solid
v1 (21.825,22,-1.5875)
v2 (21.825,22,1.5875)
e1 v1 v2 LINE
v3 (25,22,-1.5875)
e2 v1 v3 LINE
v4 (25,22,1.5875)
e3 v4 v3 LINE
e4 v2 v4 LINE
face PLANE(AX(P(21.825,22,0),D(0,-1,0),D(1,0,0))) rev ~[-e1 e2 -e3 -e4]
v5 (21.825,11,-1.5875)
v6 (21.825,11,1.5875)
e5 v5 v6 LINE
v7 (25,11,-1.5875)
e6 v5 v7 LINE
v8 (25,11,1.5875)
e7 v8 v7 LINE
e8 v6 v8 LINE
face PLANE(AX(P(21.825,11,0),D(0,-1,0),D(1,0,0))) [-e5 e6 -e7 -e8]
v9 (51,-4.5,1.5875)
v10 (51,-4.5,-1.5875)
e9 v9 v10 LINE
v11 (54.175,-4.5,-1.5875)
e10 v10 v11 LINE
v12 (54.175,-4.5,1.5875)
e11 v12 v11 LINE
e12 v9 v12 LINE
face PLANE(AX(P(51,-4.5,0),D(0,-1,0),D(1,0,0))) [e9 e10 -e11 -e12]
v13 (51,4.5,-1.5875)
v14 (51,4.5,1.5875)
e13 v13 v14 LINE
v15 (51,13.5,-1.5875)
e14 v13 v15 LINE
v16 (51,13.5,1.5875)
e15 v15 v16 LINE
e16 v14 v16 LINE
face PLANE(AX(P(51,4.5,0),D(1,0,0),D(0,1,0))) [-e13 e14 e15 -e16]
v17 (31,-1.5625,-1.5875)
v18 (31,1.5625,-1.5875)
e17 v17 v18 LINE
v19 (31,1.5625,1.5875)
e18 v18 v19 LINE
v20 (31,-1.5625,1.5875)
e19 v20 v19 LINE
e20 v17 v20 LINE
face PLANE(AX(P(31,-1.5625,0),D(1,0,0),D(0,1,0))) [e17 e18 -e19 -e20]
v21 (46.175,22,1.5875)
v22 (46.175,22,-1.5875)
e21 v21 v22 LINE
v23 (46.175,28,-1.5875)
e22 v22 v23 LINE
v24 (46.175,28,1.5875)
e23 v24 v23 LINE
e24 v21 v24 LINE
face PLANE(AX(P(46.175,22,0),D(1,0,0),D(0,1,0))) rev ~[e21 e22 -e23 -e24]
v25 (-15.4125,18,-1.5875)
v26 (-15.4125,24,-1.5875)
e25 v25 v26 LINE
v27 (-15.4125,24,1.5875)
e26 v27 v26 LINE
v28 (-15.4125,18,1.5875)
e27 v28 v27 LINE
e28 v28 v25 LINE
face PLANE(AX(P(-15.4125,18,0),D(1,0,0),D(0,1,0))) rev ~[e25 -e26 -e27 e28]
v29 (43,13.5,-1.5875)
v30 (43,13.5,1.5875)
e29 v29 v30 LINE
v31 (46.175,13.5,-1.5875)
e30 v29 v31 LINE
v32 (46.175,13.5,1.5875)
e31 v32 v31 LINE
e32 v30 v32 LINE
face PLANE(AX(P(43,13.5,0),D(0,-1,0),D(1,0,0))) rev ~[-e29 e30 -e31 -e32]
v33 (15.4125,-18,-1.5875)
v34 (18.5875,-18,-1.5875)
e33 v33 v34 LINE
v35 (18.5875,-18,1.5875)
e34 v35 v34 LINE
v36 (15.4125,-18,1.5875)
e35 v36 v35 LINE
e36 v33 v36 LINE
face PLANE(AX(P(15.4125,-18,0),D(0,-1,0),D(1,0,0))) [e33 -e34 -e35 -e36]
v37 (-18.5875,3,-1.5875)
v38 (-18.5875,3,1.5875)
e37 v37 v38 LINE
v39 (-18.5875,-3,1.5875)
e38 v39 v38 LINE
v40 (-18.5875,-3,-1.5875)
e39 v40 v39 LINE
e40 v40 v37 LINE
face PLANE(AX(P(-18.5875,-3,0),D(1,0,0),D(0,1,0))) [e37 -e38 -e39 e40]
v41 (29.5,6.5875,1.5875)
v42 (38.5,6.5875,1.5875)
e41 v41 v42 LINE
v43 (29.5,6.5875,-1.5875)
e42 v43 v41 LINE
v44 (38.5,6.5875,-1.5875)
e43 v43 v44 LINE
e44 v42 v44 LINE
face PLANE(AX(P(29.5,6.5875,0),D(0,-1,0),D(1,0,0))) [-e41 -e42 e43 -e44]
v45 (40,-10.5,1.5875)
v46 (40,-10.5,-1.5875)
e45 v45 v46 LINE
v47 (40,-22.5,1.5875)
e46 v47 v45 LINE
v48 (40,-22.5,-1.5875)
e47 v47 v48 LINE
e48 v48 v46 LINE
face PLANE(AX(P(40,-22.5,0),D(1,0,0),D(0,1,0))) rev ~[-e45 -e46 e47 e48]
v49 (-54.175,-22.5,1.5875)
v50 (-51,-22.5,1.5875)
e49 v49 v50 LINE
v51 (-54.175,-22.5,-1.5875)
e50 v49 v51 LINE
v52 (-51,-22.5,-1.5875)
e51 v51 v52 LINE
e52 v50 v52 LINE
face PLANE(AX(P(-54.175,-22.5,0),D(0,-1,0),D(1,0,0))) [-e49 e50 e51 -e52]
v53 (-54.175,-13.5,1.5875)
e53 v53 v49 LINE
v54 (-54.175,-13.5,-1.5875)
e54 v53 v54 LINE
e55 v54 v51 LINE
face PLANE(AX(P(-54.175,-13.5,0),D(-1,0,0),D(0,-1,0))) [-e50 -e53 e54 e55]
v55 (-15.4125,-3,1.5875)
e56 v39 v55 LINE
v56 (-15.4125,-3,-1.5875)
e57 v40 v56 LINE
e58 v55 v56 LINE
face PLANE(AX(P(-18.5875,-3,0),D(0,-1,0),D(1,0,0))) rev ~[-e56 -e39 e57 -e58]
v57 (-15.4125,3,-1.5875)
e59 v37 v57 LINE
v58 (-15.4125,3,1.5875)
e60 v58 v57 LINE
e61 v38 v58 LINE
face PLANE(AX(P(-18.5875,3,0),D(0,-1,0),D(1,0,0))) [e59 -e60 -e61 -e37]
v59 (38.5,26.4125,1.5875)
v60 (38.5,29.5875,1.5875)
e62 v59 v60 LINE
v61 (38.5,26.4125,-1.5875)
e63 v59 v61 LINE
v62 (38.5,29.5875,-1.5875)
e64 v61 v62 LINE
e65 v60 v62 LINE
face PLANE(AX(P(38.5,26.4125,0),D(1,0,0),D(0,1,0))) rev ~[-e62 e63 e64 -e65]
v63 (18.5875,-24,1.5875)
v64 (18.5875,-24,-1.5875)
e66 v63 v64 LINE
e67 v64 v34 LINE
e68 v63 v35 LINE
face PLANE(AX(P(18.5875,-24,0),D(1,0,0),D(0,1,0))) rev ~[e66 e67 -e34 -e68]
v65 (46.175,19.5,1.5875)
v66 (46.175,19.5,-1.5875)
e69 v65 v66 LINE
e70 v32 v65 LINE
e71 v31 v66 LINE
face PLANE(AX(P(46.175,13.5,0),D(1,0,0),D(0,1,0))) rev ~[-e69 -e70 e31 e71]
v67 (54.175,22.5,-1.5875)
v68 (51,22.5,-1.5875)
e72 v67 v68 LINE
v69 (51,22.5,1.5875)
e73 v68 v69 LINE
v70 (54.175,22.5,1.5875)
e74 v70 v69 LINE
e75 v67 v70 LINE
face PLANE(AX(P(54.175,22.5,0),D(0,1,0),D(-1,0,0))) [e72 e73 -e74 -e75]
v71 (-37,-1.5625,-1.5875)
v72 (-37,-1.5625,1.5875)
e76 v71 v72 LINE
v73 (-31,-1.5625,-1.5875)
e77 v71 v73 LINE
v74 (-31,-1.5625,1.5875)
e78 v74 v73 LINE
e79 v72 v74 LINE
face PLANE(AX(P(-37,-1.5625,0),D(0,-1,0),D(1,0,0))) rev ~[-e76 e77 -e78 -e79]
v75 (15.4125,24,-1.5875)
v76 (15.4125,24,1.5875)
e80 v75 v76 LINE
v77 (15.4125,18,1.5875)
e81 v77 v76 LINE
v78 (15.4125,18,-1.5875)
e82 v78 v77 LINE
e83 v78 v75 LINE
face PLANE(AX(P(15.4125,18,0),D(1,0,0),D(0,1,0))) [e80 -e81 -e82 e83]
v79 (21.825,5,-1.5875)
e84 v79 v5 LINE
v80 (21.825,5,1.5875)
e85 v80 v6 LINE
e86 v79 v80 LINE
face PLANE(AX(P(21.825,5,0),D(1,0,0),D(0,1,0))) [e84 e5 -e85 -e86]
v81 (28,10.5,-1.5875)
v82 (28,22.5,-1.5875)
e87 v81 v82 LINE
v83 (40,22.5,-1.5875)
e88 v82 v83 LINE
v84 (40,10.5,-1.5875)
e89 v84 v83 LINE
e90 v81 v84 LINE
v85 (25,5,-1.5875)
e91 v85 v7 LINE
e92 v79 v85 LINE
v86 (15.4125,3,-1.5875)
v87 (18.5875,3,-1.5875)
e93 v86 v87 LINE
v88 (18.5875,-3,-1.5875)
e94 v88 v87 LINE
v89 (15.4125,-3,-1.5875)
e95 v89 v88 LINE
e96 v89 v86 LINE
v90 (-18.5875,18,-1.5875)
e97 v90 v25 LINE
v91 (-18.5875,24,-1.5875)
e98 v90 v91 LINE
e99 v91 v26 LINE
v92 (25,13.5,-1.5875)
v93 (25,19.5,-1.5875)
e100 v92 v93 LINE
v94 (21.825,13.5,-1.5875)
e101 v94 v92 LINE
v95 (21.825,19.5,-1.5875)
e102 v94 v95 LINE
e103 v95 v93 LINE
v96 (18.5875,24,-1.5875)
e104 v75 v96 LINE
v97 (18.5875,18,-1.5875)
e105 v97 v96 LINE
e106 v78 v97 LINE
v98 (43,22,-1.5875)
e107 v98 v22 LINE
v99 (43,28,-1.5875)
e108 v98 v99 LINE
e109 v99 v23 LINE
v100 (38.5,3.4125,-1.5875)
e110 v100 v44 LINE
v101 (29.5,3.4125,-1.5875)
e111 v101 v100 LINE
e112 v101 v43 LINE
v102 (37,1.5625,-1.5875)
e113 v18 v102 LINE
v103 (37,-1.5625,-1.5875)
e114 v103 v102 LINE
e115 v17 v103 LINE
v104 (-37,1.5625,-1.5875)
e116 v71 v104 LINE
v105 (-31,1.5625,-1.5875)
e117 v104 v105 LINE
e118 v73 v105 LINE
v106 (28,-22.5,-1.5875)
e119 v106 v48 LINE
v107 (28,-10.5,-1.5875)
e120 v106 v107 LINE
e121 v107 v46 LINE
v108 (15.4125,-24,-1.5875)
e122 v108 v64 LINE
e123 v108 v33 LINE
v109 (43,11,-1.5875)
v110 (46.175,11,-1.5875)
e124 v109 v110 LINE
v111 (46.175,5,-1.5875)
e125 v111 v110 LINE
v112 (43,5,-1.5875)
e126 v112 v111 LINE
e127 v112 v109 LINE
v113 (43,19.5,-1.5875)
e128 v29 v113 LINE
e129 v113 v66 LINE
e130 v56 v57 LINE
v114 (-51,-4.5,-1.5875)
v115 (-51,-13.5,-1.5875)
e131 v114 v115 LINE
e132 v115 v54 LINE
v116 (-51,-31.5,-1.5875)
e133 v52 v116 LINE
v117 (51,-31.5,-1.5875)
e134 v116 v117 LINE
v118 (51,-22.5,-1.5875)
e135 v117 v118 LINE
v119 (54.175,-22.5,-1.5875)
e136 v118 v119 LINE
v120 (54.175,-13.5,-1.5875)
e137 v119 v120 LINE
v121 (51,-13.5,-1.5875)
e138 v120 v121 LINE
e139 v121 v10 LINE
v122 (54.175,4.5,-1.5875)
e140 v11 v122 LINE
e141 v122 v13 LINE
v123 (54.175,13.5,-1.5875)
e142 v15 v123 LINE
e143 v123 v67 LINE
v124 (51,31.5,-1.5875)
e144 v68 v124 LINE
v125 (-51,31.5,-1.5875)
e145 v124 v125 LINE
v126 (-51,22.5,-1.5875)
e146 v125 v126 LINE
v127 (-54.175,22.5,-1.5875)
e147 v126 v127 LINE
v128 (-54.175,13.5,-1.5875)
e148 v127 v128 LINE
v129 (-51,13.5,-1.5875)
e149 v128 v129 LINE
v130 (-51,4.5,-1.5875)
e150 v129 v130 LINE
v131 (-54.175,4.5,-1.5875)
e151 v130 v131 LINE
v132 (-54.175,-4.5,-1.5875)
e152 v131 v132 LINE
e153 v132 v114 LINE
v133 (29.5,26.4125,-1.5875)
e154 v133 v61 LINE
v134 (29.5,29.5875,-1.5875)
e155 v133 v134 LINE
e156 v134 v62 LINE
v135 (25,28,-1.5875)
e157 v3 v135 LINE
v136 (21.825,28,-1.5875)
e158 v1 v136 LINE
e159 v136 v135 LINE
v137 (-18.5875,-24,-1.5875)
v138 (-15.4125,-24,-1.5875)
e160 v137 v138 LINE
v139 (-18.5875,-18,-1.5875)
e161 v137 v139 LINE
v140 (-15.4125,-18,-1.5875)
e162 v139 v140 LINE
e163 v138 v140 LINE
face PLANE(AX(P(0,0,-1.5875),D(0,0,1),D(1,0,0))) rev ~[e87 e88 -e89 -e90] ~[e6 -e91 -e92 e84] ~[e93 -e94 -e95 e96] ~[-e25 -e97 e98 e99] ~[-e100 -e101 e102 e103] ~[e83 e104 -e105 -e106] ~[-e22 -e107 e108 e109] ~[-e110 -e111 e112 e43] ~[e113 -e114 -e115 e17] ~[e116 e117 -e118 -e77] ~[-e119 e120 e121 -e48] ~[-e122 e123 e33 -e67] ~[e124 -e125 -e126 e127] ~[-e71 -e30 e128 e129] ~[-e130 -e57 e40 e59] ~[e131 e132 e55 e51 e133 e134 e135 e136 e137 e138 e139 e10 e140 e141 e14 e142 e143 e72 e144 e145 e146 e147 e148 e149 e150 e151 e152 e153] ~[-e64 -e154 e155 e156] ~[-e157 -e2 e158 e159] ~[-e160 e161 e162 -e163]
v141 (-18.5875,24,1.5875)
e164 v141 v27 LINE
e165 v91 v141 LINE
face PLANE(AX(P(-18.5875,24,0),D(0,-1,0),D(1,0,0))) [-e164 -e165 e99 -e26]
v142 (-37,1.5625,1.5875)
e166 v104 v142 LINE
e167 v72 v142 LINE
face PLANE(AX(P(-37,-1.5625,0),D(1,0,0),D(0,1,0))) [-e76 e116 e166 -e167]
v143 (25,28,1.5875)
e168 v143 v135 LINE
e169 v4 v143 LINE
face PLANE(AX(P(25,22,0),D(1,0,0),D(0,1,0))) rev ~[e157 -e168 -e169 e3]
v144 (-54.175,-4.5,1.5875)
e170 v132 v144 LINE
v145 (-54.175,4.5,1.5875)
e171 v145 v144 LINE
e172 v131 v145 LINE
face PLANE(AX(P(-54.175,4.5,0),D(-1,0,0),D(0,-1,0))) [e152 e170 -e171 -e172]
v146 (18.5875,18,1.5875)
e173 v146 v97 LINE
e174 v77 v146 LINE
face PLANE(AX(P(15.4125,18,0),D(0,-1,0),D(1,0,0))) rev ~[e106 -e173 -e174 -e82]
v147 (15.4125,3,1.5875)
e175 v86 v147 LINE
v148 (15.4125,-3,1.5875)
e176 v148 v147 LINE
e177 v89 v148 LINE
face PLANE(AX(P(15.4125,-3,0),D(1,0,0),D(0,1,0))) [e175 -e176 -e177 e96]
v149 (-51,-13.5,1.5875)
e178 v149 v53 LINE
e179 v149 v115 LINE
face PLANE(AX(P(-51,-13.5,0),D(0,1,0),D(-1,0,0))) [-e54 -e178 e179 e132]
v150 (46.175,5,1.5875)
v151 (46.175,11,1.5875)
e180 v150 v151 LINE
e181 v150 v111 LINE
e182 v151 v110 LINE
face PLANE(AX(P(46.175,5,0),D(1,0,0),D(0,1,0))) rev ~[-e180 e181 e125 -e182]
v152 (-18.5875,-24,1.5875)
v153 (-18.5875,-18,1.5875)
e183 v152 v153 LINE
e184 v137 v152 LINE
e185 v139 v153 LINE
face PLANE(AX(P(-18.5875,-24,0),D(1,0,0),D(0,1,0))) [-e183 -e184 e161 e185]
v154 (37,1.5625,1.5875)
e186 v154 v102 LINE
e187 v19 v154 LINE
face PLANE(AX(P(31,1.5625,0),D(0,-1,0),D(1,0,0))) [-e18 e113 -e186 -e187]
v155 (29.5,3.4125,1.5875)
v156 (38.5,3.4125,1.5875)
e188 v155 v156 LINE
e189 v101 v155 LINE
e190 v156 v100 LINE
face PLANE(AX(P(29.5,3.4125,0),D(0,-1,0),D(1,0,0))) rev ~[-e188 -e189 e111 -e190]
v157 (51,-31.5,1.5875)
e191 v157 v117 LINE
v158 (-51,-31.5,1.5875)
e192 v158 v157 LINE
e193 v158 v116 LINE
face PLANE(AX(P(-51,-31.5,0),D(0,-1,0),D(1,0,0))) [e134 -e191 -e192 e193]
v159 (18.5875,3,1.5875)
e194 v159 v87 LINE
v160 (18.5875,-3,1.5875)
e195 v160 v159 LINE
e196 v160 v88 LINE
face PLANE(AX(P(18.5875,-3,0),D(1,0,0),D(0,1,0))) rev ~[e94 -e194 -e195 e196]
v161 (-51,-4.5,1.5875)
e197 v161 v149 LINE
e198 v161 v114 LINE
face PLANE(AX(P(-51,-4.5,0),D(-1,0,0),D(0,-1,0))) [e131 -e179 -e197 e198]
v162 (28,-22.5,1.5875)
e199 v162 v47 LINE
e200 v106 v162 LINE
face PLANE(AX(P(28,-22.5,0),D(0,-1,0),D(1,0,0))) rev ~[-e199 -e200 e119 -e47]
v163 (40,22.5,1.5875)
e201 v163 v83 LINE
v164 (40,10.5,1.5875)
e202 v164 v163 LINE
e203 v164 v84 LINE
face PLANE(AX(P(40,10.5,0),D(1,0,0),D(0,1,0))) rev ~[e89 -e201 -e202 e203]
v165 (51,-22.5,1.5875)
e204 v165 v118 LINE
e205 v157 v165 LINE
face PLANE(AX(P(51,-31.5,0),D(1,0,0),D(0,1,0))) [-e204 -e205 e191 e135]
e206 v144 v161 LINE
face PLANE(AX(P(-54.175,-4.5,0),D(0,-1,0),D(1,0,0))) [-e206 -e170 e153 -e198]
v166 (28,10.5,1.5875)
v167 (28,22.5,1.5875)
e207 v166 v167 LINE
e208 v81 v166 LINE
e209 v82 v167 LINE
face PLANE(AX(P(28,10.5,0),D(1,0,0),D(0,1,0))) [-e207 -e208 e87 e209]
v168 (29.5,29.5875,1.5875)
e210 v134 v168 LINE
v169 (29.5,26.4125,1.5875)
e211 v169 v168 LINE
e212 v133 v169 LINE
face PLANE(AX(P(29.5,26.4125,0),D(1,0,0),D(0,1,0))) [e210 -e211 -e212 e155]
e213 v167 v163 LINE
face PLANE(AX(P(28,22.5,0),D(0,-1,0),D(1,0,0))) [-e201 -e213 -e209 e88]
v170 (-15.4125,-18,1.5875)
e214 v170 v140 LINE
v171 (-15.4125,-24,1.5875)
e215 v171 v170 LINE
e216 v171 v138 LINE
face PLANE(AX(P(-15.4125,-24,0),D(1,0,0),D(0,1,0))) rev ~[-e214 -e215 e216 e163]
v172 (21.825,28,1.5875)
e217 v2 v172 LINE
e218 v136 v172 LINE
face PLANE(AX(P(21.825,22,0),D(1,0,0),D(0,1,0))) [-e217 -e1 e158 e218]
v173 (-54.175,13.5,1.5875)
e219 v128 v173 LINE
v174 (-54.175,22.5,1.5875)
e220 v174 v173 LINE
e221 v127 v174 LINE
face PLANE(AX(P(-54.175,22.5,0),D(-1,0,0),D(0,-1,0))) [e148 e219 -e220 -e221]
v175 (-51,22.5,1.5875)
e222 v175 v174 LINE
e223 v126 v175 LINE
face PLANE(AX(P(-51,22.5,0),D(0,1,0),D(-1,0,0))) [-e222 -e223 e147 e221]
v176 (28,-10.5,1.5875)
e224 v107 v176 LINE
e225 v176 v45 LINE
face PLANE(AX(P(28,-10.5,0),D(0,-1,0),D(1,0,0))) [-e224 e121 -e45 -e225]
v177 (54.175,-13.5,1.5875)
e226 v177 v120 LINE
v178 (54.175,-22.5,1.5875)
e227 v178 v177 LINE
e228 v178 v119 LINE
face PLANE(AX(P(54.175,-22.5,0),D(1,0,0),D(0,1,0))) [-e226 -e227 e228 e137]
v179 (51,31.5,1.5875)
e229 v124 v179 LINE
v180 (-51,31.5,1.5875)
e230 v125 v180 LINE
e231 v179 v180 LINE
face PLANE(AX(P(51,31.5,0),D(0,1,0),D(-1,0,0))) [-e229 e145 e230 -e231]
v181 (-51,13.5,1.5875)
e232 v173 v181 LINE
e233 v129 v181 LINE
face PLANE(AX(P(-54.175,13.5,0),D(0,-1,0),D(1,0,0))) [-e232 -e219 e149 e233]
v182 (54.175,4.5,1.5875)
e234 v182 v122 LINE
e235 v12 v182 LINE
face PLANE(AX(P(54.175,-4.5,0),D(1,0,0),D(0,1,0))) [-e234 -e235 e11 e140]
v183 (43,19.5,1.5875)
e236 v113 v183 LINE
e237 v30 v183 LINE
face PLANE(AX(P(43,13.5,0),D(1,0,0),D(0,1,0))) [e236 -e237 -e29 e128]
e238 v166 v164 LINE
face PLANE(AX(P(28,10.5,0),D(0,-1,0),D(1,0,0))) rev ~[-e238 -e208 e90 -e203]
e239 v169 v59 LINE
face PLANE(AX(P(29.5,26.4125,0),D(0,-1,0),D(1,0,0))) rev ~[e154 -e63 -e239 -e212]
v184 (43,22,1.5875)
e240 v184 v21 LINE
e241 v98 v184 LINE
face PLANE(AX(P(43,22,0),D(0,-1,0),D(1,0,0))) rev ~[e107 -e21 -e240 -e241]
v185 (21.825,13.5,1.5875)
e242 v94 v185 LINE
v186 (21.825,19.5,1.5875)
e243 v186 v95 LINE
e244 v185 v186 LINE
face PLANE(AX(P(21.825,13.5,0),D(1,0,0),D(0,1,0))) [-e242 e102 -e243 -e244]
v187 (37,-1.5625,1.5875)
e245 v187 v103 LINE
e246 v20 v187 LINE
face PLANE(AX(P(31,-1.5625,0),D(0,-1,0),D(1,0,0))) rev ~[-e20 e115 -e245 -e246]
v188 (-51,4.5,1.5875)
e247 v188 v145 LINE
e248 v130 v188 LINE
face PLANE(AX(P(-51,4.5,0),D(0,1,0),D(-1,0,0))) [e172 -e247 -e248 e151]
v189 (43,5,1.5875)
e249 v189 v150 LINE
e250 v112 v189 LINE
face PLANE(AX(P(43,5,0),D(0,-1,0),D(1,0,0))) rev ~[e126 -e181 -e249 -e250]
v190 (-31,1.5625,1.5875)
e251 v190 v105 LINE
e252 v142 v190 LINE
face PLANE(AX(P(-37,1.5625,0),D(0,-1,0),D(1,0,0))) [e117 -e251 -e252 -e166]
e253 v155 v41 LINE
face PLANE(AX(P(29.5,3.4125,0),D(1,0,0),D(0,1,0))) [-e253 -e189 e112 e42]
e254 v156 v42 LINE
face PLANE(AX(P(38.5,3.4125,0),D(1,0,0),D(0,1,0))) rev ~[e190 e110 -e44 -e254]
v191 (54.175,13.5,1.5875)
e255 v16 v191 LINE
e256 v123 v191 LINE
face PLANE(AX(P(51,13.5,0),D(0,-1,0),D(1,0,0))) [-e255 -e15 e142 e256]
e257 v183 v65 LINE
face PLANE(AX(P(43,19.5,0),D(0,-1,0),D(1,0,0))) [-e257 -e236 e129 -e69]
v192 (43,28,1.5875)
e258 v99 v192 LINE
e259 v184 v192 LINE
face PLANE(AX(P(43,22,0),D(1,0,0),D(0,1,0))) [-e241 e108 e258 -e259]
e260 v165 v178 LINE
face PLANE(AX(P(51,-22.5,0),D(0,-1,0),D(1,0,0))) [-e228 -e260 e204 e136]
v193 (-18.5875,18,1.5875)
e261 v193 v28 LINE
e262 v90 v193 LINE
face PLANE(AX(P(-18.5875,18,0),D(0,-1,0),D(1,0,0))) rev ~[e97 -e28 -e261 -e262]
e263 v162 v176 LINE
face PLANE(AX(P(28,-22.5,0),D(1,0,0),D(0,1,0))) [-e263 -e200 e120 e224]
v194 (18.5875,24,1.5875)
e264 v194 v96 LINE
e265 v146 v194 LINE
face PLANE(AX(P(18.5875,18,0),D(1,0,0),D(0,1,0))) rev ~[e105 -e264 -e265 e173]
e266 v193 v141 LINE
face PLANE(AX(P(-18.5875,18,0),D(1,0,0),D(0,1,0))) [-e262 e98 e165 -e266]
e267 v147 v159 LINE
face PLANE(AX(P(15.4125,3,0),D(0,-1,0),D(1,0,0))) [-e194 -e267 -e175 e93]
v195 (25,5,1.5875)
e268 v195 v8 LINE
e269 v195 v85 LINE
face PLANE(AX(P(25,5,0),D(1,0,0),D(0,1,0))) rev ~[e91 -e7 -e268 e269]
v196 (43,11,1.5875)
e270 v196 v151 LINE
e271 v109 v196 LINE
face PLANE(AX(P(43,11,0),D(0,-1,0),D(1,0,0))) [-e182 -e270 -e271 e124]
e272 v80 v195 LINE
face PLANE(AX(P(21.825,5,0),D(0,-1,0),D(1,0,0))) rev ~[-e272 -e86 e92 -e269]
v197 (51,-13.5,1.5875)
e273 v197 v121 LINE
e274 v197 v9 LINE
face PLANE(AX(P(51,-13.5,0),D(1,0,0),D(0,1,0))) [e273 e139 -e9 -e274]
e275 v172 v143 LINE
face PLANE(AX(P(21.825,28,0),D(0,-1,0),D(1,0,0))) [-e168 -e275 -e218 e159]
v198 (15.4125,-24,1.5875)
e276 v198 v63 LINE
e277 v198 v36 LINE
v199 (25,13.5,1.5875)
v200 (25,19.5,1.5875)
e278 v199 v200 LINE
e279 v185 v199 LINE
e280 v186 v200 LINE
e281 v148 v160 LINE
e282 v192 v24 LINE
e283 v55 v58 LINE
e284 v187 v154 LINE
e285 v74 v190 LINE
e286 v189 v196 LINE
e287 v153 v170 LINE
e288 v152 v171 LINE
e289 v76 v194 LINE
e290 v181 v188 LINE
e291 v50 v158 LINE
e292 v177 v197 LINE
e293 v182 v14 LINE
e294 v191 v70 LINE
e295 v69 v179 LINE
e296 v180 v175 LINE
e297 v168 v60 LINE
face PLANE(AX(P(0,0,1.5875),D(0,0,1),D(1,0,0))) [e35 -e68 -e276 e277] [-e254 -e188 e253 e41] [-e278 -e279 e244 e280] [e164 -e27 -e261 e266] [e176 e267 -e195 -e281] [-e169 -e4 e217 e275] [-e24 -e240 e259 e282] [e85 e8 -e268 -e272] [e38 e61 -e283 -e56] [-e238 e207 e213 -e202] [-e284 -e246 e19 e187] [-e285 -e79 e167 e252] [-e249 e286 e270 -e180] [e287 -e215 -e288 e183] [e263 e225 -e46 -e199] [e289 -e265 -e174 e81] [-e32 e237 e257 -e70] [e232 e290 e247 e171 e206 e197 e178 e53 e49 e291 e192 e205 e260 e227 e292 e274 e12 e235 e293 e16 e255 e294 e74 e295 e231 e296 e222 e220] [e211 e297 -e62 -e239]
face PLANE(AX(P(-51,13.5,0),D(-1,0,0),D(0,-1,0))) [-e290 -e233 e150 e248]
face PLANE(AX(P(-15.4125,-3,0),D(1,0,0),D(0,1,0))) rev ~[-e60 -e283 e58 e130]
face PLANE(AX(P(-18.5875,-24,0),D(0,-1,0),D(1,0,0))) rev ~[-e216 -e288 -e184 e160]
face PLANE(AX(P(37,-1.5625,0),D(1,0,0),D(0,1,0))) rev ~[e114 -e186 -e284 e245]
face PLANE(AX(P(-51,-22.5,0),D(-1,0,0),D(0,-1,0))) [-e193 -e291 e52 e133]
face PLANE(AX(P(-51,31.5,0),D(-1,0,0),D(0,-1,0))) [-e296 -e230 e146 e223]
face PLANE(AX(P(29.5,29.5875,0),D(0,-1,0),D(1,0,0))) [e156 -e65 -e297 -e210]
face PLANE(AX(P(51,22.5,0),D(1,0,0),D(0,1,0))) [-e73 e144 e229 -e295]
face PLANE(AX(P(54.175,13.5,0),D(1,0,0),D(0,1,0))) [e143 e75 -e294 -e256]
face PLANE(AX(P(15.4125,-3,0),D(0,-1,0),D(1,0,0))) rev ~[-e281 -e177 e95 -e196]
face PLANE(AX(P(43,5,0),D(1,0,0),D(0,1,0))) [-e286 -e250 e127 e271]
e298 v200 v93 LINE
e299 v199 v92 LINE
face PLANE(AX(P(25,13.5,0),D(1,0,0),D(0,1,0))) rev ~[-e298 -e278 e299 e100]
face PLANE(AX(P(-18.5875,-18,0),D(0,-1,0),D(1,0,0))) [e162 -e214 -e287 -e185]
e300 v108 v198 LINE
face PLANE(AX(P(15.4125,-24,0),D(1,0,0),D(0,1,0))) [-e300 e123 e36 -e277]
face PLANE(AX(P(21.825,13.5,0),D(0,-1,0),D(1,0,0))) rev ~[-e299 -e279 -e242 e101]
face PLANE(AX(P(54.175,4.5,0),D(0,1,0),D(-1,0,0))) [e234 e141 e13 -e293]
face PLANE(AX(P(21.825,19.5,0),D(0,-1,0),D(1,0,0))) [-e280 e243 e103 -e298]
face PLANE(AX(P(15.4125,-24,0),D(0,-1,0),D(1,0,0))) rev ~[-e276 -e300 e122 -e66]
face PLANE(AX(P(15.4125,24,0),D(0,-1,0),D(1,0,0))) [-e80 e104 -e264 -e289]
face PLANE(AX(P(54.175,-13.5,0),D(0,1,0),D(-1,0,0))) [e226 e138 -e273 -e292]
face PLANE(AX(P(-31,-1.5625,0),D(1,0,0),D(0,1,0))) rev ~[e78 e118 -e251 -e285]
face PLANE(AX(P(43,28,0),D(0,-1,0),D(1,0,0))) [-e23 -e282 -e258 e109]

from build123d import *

# Parameters (mm, degrees)
SKETCH1_W           = 6
SKETCH1_H           = 3.125
SKETCH1_W_2         = 9
SKETCH1_H_2         = 3.175
SKETCH1_W_3         = 12
SKETCH1_H_3         = 12
SKETCH1_W_4         = 3.175
SKETCH1_H_4         = 6
BOSS_EXTRUDE1_DEPTH = 1.5875


with BuildPart() as part:
    # Sketch1 → Boss-Extrude1 (new, symmetric)
    with BuildSketch(Plane.XY):
        Polygon((54.175, 4.5), (51, 4.5), (51, 13.5), (54.175, 13.5), (54.175, 22.5), (51, 22.5), (51, 31.5), (-51, 31.5), (-51, 22.5), (-54.175, 22.5), (-54.175, 13.5), (-51, 13.5), (-51, 4.5), (-54.175, 4.5), (-54.175, -4.5), (-51, -4.5), (-51, -13.5), (-54.175, -13.5), (-54.175, -22.5), (-51, -22.5), (-51, -31.5), (51, -31.5), (51, -22.5), (54.175, -22.5), (54.175, -13.5), (51, -13.5), (51, -4.5), (54.175, -4.5), align=None)
        with Locations((34, 0)):
            Rectangle(SKETCH1_W, SKETCH1_H, mode=Mode.SUBTRACT)
        with Locations((34, 5)):
            Rectangle(SKETCH1_W_2, SKETCH1_H_2, mode=Mode.SUBTRACT)
        with Locations((34, 16.5)):
            Rectangle(SKETCH1_W_3, SKETCH1_H_3, mode=Mode.SUBTRACT)
        with Locations((34, 28)):
            Rectangle(SKETCH1_W_2, SKETCH1_H_2, mode=Mode.SUBTRACT)
        with Locations((44.5875, 8)):
            Rectangle(SKETCH1_W_4, SKETCH1_H_4, mode=Mode.SUBTRACT)
        with Locations((44.5875, 16.5)):
            Rectangle(SKETCH1_W_4, SKETCH1_H_4, mode=Mode.SUBTRACT)
        with Locations((44.5875, 25)):
            Rectangle(SKETCH1_W_4, SKETCH1_H_4, mode=Mode.SUBTRACT)
        with Locations((34, -16.5)):
            Rectangle(SKETCH1_W_3, SKETCH1_H_3, mode=Mode.SUBTRACT)
        with Locations((17, 21)):
            Rectangle(SKETCH1_W_4, SKETCH1_H_4, mode=Mode.SUBTRACT)
        with Locations((23.4125, 25)):
            Rectangle(SKETCH1_W_4, SKETCH1_H_4, mode=Mode.SUBTRACT)
        with Locations((-17, -21)):
            Rectangle(SKETCH1_W_4, SKETCH1_H_4, mode=Mode.SUBTRACT)
        with Locations((17, -21)):
            Rectangle(SKETCH1_W_4, SKETCH1_H_4, mode=Mode.SUBTRACT)
        with Locations((-34, 0)):
            Rectangle(SKETCH1_W, SKETCH1_H, mode=Mode.SUBTRACT)
        with Locations((-17, 0)):
            Rectangle(SKETCH1_W_4, SKETCH1_H_4, mode=Mode.SUBTRACT)
        with Locations((-17, 21)):
            Rectangle(SKETCH1_W_4, SKETCH1_H_4, mode=Mode.SUBTRACT)
        with Locations((17, 0)):
            Rectangle(SKETCH1_W_4, SKETCH1_H_4, mode=Mode.SUBTRACT)
        with Locations((23.4125, 8)):
            Rectangle(SKETCH1_W_4, SKETCH1_H_4, mode=Mode.SUBTRACT)
        with Locations((23.4125, 16.5)):
            Rectangle(SKETCH1_W_4, SKETCH1_H_4, mode=Mode.SUBTRACT)
    extrude(amount=BOSS_EXTRUDE1_DEPTH, both=True)


solid = part.part
